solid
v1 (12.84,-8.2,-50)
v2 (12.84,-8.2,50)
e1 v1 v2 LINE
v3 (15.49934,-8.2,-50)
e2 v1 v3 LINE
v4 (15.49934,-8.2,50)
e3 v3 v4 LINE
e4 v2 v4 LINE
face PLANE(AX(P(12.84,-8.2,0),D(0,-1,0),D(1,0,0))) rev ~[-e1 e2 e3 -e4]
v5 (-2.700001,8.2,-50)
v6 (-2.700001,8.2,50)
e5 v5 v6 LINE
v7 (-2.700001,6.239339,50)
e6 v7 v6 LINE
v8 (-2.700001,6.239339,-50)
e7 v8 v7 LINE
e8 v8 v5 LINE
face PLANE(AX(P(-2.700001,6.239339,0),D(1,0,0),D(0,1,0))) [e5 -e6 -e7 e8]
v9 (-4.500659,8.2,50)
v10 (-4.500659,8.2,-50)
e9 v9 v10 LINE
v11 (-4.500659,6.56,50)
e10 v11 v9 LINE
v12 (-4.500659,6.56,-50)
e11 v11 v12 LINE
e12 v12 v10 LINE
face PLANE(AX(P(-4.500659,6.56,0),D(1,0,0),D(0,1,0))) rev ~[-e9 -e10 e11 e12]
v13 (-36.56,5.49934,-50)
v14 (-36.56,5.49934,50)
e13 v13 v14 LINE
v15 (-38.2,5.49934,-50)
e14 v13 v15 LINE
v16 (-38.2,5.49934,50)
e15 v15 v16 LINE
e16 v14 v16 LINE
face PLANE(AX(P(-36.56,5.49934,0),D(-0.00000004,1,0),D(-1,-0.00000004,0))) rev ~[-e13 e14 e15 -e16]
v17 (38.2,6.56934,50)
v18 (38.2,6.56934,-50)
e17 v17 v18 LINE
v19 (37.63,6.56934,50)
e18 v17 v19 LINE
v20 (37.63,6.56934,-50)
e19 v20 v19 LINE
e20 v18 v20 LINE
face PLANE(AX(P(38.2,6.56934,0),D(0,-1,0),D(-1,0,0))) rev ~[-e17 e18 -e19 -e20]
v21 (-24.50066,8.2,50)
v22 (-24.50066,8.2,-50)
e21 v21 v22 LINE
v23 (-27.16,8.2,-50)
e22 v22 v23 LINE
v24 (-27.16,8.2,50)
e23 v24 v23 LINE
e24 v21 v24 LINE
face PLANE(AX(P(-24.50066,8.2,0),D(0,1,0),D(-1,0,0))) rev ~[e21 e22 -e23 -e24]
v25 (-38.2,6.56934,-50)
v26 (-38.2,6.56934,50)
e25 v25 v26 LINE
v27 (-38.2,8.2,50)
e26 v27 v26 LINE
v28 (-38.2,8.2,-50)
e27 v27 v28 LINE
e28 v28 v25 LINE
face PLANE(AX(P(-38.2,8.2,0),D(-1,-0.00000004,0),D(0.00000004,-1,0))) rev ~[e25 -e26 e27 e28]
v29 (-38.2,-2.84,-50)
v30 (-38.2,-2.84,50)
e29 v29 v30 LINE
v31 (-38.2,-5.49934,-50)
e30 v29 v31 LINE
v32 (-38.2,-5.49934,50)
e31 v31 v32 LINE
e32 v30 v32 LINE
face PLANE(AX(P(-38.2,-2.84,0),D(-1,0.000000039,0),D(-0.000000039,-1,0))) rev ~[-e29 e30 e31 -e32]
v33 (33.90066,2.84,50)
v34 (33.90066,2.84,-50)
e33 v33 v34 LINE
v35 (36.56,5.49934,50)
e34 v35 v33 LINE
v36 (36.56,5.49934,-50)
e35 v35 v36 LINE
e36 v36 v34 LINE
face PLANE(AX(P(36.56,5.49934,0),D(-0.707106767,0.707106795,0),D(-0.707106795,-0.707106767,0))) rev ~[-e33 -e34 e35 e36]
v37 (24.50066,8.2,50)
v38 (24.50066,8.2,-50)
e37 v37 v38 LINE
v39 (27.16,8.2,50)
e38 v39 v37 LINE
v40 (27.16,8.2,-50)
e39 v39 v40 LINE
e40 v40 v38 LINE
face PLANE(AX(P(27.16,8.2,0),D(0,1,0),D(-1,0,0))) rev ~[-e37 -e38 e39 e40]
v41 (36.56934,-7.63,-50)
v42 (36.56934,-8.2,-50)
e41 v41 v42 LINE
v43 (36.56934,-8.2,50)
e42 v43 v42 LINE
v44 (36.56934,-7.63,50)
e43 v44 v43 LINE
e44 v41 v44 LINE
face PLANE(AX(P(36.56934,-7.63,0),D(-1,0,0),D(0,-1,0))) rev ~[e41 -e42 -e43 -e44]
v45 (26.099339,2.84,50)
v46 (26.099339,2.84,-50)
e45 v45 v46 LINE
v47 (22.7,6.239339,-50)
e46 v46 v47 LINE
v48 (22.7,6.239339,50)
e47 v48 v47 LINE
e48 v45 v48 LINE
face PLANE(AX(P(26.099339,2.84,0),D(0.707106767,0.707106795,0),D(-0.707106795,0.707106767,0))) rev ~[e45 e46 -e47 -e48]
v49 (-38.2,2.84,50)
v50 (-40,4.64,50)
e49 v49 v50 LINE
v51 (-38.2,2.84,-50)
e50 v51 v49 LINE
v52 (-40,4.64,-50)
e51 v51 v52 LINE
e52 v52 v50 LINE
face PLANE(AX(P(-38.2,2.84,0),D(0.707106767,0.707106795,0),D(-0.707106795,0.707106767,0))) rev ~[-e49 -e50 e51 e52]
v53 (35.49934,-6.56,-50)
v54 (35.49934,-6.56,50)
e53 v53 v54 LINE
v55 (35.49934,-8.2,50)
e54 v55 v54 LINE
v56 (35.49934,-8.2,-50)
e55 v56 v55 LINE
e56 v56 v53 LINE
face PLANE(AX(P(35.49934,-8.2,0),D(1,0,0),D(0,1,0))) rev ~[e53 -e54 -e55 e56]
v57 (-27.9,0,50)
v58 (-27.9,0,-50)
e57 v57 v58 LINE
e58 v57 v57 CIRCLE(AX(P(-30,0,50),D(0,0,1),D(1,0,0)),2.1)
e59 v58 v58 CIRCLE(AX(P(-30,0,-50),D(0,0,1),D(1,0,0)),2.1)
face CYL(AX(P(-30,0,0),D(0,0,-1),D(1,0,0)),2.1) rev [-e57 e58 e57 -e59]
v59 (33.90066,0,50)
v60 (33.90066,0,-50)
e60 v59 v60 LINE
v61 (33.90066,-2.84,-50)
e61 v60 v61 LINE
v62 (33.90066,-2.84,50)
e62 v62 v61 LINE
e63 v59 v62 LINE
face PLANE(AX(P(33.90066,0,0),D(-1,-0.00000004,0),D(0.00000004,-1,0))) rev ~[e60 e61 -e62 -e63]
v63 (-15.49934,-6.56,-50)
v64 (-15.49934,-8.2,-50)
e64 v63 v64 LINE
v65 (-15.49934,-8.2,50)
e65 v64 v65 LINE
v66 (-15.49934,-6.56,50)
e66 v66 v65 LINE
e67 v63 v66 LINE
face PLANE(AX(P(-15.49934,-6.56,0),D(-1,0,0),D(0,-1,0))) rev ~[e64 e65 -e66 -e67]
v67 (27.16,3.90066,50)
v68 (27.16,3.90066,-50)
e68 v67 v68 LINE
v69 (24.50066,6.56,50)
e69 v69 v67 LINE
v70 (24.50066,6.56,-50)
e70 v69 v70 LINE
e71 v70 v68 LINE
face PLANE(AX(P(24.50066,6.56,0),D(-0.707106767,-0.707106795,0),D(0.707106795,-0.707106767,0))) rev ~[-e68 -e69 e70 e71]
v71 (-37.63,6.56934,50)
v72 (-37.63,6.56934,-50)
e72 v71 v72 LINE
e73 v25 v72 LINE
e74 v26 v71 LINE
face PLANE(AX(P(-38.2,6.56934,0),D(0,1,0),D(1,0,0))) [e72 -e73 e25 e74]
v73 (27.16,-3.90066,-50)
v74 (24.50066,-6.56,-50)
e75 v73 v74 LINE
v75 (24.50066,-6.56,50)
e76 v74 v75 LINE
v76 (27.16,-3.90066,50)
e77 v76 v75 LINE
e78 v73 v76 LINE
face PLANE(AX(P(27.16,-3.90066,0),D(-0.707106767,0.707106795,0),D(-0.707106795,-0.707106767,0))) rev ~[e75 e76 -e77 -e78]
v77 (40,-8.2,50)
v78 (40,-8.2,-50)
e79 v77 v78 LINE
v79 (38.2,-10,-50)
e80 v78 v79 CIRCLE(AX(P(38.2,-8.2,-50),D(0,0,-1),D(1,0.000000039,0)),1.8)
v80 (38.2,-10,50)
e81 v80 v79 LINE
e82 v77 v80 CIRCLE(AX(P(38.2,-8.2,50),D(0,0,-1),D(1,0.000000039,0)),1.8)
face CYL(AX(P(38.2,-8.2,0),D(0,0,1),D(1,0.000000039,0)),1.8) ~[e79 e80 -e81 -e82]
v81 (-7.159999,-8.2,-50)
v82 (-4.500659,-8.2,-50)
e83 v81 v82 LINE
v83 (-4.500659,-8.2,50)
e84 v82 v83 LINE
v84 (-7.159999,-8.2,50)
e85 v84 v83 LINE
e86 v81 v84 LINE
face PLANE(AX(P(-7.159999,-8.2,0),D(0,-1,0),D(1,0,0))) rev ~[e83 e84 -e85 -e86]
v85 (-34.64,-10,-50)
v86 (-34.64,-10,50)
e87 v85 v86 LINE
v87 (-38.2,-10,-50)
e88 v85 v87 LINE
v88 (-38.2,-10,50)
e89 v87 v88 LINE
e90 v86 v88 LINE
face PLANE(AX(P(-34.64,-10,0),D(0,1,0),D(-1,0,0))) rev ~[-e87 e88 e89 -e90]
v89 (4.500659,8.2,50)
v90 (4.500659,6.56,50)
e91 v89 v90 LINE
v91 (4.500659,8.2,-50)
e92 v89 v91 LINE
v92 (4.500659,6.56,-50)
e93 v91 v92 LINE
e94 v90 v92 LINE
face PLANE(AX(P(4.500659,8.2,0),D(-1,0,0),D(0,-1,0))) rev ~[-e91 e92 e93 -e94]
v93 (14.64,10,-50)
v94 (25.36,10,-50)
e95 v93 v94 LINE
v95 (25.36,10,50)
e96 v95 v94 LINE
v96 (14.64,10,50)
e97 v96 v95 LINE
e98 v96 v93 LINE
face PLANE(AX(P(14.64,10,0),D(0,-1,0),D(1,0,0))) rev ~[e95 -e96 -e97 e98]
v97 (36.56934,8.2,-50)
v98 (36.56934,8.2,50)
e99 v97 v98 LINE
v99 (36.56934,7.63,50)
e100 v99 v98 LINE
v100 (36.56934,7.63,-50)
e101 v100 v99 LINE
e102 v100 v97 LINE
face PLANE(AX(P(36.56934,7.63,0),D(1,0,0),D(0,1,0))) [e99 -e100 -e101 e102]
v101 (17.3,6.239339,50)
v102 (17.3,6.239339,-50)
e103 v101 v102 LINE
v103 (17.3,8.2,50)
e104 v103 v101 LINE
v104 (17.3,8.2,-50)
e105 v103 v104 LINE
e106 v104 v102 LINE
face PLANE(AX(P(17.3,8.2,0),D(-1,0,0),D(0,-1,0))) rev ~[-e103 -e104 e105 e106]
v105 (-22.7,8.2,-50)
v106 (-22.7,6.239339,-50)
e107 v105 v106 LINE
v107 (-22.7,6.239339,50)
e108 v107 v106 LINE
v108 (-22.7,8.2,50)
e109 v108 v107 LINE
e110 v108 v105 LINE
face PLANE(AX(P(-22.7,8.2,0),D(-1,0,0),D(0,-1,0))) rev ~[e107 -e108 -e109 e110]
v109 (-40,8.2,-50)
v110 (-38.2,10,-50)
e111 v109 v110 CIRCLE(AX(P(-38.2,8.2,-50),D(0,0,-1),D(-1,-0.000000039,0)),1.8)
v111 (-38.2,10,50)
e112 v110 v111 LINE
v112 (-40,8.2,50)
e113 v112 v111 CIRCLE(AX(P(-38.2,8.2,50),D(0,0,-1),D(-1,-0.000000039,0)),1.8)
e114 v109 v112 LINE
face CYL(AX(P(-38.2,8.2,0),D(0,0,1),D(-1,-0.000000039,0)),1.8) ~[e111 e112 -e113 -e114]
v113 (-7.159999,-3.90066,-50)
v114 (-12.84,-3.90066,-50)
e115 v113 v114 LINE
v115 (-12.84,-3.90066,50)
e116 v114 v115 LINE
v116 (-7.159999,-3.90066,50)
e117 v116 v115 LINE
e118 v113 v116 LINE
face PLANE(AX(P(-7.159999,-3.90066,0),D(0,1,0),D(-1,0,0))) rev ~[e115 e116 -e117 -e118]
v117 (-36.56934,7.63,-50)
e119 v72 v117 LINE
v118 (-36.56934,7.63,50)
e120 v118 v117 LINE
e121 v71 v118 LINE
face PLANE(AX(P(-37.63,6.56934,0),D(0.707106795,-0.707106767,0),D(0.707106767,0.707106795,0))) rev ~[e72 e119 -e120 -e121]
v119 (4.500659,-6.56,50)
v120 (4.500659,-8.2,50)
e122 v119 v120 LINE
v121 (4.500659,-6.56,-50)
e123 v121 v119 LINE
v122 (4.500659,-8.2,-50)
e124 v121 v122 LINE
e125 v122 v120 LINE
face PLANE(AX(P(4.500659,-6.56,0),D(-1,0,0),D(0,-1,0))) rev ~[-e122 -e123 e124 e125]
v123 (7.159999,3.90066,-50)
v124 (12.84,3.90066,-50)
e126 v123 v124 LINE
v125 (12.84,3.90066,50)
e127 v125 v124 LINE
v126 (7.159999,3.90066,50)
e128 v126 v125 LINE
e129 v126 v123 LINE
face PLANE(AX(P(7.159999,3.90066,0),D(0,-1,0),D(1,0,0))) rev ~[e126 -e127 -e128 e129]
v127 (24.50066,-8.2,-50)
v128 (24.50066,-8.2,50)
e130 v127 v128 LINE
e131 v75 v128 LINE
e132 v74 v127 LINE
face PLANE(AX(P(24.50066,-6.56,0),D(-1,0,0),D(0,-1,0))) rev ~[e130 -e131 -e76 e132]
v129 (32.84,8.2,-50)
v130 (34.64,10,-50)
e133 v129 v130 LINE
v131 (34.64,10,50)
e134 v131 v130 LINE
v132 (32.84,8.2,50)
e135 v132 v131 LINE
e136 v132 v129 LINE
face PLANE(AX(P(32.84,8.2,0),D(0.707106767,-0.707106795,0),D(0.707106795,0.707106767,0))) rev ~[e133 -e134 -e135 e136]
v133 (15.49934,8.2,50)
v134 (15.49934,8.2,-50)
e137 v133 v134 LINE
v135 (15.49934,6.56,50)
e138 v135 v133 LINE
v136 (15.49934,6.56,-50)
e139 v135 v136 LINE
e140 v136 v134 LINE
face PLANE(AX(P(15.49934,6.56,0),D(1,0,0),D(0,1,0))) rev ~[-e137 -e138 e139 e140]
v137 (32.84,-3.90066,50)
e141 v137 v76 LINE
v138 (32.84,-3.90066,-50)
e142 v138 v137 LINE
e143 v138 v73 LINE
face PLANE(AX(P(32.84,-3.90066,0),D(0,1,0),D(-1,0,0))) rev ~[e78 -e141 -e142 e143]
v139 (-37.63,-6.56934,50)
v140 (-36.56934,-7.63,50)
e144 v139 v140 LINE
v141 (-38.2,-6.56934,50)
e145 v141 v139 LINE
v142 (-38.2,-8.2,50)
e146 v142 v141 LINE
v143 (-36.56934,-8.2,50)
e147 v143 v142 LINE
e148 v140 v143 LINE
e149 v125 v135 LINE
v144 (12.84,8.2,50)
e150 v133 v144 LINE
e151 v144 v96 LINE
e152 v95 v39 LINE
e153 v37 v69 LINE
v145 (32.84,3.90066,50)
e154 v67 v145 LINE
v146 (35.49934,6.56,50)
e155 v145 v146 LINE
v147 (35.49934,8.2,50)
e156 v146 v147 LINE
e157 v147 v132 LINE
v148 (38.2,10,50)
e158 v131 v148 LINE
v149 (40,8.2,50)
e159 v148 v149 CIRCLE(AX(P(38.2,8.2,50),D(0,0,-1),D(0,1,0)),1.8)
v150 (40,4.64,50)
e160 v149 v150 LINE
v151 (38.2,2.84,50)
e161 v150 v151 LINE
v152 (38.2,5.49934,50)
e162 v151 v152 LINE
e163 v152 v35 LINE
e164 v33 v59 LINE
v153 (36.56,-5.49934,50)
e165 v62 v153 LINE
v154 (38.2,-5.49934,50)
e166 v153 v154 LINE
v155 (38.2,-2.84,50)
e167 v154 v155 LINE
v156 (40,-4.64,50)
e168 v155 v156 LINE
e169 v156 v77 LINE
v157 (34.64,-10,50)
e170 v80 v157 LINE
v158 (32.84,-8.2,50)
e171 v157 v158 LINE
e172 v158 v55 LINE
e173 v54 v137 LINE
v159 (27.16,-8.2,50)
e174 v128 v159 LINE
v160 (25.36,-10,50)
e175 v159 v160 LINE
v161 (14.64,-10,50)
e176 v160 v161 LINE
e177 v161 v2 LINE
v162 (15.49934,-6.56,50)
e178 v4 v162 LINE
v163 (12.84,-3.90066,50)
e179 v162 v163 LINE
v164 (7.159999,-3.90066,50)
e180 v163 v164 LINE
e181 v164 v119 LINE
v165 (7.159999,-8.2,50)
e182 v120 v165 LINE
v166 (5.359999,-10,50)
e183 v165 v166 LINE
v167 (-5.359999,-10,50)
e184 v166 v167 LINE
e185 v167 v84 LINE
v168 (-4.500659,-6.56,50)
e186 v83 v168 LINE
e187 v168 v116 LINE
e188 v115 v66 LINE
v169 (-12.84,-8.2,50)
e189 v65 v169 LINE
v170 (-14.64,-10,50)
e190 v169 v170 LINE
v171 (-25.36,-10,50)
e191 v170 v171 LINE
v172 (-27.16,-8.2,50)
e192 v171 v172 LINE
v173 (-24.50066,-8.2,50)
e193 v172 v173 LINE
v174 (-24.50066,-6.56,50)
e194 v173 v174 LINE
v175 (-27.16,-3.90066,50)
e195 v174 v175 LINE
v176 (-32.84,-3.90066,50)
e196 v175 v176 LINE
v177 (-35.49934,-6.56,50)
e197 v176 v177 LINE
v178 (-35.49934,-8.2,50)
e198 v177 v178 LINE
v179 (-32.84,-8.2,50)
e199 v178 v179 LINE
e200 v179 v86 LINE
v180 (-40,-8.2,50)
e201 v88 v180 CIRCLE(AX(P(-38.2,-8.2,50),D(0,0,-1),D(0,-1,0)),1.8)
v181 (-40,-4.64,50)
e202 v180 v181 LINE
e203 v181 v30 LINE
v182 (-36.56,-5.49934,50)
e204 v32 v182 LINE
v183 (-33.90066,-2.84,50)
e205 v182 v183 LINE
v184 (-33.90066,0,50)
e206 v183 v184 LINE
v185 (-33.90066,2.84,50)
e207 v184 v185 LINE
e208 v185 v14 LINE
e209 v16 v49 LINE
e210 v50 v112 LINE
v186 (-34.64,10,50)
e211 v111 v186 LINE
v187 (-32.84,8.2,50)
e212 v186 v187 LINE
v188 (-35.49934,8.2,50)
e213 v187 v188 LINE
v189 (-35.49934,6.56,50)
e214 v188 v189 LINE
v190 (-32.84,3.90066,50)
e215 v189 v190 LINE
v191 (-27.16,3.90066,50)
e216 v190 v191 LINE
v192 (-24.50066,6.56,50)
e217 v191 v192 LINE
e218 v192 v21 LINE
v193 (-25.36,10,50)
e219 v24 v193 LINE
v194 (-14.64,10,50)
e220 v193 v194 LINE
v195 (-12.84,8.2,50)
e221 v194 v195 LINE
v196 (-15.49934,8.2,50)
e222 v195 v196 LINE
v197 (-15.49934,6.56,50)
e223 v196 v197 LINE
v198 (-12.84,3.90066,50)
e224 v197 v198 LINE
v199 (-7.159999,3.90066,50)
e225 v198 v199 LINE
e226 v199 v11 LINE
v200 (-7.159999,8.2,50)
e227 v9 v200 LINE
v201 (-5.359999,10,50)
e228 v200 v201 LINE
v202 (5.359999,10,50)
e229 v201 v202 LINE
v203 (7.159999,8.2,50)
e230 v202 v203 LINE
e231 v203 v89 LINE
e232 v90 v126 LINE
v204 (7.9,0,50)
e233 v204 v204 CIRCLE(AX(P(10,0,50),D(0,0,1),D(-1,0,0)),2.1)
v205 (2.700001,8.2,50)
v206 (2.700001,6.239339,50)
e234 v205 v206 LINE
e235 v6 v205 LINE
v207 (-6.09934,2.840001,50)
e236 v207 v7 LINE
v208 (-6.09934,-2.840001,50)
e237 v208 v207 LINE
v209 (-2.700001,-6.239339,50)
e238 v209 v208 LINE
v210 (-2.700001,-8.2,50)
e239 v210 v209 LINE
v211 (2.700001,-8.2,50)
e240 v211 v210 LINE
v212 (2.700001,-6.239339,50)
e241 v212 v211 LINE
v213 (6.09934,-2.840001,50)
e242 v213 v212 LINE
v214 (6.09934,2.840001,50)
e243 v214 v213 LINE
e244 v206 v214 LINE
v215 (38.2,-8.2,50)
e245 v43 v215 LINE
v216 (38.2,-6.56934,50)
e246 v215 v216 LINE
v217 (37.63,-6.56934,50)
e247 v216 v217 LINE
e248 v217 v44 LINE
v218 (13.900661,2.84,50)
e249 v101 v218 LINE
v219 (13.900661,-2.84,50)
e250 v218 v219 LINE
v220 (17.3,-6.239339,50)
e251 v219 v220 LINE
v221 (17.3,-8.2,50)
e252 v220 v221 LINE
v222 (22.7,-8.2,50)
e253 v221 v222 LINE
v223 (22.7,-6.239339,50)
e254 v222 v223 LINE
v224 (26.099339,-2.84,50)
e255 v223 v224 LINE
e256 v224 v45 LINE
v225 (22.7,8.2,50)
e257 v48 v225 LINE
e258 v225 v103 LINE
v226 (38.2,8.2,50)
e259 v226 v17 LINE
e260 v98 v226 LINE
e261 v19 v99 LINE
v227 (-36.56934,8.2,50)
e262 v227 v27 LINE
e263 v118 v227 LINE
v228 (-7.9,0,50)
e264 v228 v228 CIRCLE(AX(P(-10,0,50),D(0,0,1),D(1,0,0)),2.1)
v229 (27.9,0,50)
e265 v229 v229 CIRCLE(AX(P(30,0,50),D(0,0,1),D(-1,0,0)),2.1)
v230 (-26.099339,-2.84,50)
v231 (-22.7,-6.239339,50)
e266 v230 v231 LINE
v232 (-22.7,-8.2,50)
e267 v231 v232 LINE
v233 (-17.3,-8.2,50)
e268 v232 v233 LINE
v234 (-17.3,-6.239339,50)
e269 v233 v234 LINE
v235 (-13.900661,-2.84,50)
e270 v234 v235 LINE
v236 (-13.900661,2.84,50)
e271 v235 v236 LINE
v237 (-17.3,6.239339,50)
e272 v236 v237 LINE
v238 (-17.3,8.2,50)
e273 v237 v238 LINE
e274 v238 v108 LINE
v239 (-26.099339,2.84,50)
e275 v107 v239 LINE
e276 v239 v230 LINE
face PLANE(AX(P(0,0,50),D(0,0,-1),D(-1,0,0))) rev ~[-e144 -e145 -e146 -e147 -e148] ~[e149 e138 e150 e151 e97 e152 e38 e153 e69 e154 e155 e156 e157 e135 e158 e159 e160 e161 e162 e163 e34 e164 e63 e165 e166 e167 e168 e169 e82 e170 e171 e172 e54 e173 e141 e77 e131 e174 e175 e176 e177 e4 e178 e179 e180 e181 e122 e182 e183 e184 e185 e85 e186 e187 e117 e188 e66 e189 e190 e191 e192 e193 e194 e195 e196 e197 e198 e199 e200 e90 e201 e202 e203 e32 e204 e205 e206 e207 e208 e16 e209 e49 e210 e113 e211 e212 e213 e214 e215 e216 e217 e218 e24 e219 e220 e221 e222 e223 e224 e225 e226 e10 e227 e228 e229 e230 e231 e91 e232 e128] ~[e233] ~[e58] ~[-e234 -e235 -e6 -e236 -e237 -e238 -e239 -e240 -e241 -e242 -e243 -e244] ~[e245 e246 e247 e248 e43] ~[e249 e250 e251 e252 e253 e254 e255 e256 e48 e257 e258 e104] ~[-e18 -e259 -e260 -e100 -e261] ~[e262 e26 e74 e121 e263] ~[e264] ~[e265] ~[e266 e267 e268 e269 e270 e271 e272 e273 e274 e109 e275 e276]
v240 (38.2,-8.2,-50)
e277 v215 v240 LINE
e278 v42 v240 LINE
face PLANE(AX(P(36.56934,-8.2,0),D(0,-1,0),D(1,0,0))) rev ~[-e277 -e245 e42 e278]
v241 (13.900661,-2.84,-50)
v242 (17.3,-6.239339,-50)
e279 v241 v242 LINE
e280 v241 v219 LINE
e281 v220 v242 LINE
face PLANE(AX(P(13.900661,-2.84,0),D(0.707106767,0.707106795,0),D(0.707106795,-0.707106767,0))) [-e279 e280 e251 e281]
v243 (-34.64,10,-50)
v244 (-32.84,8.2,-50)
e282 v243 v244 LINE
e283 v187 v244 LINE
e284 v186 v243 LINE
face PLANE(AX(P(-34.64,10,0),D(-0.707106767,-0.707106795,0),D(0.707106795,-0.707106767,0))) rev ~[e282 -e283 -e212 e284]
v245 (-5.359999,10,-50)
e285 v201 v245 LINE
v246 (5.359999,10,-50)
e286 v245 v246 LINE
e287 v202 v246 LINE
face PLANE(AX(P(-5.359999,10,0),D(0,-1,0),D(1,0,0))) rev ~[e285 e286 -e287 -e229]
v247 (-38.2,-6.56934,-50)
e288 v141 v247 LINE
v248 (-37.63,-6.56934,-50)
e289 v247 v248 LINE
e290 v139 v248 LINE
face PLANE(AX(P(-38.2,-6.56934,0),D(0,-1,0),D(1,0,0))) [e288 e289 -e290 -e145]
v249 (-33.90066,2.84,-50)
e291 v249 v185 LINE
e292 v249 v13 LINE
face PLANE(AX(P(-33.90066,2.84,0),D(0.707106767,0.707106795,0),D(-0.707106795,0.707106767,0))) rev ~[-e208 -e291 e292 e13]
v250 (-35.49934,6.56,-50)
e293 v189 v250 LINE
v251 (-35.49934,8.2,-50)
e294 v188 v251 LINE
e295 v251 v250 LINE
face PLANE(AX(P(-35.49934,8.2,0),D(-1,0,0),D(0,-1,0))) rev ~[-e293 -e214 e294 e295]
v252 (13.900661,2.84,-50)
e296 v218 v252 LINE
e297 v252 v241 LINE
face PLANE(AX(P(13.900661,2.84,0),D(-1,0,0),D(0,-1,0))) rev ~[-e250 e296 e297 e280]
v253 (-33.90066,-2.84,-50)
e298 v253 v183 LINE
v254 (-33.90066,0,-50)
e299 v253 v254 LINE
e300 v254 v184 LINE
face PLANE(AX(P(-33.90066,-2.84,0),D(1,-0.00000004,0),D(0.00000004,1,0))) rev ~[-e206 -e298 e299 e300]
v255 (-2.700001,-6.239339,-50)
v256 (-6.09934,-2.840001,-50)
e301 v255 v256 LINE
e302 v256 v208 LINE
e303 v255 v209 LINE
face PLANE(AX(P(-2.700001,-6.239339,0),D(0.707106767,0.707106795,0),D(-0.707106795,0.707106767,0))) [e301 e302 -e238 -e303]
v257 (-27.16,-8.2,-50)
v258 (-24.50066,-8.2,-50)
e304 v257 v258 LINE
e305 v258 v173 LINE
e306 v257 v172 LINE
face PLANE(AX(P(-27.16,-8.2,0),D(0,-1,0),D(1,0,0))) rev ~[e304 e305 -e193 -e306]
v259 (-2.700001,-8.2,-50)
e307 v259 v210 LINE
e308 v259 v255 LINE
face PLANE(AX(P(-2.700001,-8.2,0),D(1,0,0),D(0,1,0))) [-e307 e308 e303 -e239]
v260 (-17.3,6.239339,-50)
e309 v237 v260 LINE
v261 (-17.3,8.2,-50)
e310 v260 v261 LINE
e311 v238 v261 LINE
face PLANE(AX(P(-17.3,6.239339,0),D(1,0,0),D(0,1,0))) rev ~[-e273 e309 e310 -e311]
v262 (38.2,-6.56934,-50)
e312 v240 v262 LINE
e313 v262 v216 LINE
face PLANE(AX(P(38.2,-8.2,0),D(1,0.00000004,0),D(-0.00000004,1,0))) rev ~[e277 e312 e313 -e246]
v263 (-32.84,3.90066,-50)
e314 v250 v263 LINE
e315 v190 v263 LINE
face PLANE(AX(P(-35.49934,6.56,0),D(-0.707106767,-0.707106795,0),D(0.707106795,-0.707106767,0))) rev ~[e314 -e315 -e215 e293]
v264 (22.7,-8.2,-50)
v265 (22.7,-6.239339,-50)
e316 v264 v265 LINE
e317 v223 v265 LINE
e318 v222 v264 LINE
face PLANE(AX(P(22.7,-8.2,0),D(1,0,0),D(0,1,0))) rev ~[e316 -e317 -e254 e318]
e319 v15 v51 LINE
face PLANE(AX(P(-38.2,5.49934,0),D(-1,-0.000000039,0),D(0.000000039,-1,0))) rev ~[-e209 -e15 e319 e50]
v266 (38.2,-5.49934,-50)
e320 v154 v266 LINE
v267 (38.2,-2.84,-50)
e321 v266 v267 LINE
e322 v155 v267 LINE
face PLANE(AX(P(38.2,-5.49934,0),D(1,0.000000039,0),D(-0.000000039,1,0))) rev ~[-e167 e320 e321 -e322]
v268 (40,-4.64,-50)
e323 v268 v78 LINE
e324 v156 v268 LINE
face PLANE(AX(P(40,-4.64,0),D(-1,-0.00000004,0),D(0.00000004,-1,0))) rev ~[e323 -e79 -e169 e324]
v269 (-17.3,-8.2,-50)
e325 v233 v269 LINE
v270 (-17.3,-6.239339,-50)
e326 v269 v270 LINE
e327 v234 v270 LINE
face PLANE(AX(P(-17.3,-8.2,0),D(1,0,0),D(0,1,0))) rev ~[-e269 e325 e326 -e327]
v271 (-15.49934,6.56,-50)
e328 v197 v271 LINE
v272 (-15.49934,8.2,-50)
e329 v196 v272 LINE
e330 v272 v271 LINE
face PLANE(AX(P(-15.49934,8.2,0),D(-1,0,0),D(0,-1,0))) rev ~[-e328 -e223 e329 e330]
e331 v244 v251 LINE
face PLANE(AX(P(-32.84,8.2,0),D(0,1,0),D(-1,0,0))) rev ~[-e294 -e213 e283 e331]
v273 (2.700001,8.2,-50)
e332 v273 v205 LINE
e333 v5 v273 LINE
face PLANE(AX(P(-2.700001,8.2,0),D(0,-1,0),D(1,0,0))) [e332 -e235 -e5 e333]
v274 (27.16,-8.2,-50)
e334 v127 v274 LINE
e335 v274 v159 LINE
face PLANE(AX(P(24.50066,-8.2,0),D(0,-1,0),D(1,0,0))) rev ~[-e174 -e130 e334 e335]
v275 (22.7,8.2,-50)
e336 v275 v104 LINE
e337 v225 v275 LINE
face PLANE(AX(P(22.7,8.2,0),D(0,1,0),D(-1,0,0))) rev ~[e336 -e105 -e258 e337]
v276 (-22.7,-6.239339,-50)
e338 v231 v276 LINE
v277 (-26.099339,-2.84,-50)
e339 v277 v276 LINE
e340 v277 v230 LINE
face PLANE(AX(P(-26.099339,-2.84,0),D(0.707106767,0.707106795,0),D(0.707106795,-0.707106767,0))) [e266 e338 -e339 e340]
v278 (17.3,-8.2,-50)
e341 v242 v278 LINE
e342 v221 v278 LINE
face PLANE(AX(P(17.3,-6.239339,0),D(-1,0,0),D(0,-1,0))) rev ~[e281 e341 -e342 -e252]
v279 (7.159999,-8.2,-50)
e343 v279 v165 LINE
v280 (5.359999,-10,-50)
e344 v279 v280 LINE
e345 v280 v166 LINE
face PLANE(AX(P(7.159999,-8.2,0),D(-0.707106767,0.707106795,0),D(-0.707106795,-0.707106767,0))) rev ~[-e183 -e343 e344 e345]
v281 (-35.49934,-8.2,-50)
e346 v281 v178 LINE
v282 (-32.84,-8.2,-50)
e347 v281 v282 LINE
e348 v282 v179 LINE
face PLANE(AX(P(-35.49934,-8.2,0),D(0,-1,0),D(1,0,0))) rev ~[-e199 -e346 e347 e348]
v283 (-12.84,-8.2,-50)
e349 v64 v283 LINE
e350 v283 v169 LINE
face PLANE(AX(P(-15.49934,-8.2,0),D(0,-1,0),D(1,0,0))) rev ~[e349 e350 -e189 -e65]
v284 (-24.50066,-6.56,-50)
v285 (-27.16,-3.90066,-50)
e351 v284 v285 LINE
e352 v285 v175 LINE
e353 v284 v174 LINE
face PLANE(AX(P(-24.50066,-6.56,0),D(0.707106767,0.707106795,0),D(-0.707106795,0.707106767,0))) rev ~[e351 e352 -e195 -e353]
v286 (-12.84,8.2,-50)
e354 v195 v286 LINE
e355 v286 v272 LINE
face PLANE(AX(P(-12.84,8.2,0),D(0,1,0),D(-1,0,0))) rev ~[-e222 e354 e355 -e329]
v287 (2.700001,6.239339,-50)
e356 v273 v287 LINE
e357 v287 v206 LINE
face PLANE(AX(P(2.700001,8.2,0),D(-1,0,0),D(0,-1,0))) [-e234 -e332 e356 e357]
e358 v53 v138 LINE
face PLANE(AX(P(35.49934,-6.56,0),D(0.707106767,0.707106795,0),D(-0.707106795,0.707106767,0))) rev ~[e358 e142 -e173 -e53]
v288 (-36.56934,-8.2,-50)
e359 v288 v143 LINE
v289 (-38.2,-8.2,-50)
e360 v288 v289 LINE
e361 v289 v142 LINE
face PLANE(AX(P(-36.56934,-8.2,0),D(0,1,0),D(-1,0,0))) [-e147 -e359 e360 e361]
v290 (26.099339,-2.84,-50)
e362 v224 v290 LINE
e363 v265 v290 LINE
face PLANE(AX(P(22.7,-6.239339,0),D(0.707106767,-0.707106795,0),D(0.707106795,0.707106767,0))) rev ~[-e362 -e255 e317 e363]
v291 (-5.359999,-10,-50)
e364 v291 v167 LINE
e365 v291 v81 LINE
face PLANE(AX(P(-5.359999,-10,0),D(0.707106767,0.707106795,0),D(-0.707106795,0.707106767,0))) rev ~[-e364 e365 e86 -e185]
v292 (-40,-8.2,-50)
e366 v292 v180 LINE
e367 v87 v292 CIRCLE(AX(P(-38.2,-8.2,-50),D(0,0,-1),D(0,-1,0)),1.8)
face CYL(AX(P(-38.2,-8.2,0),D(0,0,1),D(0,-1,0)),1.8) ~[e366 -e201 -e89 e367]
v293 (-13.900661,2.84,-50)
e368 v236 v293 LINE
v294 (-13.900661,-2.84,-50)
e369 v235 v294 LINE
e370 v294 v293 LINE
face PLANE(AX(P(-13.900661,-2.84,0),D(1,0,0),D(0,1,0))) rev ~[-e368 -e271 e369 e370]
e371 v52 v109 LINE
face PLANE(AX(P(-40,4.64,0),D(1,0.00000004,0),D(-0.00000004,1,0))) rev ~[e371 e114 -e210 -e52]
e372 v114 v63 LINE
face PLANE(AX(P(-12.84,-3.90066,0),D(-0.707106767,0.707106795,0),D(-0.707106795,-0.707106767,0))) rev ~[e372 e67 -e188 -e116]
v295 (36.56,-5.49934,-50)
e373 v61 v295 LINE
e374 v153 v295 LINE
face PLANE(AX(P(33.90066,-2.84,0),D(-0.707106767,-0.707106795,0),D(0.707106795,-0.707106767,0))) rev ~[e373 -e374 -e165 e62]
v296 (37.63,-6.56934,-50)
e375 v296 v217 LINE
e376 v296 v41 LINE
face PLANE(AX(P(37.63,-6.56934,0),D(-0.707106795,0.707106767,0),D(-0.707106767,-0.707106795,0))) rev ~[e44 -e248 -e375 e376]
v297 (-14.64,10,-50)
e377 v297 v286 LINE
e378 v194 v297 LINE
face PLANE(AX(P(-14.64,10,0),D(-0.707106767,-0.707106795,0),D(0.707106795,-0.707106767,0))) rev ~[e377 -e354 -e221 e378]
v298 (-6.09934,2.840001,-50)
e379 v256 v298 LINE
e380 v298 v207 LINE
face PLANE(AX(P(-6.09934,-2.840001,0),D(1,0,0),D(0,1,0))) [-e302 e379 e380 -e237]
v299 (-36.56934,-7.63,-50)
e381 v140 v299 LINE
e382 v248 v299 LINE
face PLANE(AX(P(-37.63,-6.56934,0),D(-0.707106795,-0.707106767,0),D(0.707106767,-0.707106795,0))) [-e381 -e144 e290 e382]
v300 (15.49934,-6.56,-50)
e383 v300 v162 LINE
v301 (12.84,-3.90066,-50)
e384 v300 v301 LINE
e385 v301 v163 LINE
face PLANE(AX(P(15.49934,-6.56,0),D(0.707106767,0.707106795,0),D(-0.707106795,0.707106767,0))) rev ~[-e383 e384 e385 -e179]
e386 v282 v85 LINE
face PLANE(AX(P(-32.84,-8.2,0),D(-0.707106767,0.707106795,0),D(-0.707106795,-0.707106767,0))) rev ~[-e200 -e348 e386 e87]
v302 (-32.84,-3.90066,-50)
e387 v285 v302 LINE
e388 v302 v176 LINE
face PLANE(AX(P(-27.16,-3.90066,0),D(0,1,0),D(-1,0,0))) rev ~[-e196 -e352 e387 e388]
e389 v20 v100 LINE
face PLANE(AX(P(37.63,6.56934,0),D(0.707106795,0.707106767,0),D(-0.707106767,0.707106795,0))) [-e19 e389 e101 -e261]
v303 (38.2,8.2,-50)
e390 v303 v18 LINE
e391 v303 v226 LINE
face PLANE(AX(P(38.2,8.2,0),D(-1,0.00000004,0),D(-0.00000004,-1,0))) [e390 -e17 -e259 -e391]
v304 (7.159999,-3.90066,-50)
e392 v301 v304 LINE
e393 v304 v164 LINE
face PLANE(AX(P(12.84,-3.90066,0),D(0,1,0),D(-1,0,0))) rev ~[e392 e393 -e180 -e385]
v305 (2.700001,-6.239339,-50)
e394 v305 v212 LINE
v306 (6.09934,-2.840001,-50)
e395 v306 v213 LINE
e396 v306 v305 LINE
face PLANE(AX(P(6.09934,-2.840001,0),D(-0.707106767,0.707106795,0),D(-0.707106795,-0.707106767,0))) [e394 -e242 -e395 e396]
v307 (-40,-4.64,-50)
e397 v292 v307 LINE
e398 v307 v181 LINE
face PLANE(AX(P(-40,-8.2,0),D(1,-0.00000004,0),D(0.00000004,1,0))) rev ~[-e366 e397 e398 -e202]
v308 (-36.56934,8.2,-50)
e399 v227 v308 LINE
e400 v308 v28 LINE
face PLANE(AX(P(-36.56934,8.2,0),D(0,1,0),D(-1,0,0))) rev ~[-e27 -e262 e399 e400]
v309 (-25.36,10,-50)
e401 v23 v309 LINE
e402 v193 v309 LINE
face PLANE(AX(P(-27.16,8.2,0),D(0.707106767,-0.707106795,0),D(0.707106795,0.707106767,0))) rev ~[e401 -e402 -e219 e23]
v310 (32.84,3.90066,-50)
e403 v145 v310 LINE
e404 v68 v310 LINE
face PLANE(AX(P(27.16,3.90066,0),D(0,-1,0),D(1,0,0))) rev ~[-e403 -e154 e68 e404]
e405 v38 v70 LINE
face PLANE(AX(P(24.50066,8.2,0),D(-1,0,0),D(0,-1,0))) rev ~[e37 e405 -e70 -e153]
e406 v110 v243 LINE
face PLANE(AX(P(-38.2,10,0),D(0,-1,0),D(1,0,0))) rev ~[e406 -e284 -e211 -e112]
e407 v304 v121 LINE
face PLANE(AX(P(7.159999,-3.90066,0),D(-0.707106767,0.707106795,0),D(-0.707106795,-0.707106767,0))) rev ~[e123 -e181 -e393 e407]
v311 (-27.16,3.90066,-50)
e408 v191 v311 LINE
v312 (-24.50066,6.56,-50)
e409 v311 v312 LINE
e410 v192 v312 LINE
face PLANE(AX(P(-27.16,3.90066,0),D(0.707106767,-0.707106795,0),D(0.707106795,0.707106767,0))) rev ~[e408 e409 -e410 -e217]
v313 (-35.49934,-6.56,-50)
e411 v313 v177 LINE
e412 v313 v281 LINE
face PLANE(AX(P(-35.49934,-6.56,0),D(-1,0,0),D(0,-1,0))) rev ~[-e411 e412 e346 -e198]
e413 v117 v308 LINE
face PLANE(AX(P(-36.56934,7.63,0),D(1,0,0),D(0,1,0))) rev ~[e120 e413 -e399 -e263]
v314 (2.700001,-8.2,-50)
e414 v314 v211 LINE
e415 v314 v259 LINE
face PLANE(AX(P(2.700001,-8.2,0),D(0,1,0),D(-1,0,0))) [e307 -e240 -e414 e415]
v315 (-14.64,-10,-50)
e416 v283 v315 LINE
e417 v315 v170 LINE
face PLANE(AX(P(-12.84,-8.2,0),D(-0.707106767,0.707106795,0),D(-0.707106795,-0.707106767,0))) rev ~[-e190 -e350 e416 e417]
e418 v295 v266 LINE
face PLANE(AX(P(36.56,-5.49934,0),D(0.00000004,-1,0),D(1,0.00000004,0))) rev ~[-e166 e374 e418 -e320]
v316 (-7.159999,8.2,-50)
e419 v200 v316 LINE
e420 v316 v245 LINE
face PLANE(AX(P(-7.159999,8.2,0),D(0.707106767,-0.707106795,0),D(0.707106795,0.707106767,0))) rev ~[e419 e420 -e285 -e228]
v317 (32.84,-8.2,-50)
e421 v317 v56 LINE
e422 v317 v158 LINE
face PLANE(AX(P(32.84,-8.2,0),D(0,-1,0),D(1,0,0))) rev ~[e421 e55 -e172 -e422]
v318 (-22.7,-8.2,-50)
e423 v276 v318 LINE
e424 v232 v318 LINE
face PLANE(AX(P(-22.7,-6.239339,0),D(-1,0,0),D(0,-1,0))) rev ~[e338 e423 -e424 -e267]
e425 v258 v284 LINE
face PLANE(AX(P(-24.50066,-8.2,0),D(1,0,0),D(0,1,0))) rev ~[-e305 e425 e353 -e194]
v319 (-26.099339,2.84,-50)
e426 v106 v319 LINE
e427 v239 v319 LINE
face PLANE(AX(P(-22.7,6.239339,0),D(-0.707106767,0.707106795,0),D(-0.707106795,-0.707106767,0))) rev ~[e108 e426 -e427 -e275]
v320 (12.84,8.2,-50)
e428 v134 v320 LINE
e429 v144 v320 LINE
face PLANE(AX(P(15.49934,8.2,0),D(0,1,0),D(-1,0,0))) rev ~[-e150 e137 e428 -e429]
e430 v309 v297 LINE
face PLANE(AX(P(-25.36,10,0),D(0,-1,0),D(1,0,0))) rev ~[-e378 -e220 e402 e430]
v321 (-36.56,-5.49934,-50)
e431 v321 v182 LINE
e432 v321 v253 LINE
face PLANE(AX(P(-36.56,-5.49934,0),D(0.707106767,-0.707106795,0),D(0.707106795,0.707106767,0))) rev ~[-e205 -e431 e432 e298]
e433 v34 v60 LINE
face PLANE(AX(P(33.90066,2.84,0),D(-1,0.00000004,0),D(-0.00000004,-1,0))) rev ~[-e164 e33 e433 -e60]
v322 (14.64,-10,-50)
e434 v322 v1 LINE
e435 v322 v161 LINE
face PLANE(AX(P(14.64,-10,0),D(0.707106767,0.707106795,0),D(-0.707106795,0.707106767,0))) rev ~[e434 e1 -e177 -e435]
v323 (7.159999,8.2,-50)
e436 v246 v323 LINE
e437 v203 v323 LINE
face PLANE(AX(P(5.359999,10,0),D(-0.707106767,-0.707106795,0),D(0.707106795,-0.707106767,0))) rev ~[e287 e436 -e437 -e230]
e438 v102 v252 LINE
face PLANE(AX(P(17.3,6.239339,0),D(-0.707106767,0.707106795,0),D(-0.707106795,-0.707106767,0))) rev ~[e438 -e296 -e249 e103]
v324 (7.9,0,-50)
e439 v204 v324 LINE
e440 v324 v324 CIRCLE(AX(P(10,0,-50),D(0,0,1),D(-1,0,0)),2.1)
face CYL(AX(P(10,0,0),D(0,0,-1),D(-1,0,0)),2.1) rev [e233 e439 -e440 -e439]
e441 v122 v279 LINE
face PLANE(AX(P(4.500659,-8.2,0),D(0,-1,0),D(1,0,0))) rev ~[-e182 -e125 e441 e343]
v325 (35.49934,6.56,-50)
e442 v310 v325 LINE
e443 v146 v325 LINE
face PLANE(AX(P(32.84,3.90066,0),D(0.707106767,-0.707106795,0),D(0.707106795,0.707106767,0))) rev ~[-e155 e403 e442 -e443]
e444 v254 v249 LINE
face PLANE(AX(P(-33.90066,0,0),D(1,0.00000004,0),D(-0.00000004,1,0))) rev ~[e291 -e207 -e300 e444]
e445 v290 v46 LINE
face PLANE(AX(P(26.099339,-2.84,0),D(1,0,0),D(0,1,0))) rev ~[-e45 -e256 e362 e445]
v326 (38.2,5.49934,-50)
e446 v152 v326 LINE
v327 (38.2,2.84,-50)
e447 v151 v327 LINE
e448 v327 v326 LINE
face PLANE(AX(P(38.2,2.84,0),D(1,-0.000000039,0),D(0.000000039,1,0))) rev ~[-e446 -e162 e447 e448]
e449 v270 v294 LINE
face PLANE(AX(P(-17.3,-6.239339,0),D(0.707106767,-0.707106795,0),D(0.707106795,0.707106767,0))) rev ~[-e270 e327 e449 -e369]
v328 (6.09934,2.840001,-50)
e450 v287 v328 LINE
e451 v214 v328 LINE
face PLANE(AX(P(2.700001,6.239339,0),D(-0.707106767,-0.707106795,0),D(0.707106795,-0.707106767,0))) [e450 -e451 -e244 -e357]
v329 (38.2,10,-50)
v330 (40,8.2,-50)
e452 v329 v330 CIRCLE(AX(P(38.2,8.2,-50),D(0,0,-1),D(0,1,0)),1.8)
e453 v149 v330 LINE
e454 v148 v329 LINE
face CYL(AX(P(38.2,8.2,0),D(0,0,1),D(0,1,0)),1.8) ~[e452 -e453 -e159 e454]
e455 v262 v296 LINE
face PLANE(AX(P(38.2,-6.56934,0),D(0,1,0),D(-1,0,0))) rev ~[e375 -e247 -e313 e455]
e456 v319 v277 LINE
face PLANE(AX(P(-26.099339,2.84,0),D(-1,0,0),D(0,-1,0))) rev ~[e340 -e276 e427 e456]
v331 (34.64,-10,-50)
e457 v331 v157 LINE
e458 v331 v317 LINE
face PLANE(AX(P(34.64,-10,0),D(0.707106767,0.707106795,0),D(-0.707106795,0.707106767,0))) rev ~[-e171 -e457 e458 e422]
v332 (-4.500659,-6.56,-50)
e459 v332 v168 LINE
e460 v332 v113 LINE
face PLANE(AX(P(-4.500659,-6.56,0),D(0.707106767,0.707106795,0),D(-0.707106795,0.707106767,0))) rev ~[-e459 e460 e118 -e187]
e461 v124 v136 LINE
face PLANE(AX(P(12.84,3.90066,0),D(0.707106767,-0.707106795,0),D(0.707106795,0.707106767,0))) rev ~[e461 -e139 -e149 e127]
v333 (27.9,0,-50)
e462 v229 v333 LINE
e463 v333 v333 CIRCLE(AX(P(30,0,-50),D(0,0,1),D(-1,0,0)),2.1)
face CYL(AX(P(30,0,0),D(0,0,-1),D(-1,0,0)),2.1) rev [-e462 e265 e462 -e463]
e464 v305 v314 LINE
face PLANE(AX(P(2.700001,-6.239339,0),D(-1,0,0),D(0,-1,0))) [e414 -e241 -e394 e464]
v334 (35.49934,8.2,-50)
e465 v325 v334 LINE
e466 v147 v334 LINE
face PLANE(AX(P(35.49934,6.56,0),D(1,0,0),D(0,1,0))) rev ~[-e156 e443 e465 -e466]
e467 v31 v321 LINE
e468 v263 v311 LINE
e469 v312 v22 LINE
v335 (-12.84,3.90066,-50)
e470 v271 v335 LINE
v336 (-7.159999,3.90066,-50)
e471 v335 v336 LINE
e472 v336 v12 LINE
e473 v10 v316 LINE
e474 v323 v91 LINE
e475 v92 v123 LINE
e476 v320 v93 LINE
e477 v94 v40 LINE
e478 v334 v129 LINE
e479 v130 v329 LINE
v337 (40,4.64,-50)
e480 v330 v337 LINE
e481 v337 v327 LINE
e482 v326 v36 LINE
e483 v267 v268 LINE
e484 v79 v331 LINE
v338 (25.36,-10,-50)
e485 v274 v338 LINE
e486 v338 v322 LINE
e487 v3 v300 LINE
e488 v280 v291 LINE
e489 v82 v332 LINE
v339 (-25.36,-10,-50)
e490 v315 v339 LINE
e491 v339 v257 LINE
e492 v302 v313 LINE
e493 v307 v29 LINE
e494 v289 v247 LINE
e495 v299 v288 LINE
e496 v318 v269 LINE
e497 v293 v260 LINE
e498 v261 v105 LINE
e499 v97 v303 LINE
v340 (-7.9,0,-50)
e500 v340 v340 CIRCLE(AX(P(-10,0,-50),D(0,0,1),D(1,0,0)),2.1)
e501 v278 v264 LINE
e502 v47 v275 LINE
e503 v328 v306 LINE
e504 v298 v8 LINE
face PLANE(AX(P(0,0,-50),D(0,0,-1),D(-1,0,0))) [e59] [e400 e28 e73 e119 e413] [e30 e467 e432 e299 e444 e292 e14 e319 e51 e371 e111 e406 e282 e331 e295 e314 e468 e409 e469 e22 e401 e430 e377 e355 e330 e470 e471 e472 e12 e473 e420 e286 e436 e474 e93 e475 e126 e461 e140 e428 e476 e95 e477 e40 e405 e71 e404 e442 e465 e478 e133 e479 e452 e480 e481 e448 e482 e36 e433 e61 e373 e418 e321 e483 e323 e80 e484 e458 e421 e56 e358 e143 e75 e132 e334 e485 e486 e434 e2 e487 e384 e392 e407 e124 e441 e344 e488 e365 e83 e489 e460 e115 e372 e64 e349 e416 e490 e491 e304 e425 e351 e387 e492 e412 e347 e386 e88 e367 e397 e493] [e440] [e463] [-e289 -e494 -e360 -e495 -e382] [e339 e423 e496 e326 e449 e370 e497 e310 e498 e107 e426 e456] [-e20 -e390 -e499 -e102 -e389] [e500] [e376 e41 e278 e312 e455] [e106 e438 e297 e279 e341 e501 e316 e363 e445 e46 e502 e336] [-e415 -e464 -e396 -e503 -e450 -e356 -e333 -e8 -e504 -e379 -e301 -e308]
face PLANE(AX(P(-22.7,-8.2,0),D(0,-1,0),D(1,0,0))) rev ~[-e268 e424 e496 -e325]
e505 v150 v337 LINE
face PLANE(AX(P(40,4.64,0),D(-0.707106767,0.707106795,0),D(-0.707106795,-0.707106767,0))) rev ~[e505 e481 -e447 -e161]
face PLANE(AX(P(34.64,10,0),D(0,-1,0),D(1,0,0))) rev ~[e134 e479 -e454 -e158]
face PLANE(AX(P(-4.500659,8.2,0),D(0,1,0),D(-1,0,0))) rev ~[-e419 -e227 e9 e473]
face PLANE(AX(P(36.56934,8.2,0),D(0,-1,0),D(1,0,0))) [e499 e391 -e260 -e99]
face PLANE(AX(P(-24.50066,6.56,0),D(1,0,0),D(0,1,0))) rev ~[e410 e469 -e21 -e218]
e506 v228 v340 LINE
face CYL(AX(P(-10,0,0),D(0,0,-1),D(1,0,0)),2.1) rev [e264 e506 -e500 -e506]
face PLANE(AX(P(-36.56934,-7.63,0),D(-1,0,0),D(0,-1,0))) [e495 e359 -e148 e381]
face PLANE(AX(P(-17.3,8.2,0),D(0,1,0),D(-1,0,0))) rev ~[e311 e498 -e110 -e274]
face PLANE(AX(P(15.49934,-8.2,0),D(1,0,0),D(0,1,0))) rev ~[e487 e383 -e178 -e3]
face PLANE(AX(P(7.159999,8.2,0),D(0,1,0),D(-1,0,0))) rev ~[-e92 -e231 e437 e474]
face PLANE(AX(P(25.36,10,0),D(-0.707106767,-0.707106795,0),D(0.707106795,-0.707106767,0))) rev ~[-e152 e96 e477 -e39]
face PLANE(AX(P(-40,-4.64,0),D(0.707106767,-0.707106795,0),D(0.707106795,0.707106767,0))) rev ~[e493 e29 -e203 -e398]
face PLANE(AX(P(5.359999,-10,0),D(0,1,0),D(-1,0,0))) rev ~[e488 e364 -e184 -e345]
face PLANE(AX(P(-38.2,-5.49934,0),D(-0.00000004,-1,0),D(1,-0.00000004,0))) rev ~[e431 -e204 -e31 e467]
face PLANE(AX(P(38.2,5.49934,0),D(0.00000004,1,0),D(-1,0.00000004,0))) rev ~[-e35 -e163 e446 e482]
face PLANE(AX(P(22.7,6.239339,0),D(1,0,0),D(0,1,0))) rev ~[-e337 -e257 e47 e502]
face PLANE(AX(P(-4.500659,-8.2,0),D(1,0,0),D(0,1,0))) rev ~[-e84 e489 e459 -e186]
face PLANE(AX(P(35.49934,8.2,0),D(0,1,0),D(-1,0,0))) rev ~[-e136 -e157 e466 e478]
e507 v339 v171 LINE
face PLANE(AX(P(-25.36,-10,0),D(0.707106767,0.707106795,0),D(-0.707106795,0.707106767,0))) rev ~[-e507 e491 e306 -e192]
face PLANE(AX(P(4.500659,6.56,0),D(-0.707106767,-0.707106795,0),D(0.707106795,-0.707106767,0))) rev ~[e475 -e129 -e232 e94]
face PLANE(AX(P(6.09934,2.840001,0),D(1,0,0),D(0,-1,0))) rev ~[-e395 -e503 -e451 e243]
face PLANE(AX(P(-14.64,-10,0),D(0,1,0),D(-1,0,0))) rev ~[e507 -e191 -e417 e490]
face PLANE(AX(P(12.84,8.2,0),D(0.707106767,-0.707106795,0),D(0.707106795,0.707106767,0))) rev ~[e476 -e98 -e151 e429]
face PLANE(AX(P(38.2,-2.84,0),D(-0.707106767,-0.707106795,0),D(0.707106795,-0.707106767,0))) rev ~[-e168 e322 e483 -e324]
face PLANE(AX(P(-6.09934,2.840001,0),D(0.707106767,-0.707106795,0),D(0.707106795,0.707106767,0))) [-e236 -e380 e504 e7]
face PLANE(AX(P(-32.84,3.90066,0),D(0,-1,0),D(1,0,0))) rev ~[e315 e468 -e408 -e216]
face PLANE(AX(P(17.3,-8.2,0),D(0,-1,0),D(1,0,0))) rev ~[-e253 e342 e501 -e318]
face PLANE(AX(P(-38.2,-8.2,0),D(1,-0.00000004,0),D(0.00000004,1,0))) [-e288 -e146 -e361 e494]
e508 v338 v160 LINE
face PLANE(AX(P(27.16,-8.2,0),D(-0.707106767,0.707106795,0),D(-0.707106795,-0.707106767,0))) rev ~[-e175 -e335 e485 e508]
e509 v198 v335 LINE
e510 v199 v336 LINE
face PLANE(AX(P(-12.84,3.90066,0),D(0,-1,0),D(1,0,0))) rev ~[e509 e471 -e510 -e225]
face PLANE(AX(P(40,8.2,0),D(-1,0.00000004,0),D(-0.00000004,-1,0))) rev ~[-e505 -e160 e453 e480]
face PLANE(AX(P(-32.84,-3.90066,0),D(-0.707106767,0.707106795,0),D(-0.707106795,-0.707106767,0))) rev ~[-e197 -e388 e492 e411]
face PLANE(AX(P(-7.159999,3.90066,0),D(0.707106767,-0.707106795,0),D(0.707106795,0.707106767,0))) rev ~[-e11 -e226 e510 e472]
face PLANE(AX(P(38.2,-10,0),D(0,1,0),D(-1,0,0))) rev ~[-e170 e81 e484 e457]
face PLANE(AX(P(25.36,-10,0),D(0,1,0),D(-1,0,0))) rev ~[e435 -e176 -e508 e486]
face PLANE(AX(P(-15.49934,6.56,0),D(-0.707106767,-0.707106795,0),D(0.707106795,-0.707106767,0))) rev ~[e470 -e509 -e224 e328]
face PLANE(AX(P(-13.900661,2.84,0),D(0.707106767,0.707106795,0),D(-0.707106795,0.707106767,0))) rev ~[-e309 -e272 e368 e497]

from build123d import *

# Parameters (mm, degrees)
ESQUISSE1_R        = 2.1
BOSS_EXTRU_1_DEPTH = 50


with BuildPart() as part:
    # Esquisse1 → Boss.-Extru.1 (new, symmetric)
    with BuildSketch(Plane.XY):
        with BuildLine():
            Line((-38.199999929, 10), (-34.639999675, 10))
            Line((-34.639999675, 10), (-32.839999603, 8.2))
            Line((-32.839999603, 8.2), (-35.499339671, 8.2))
            Line((-35.499339671, 8.2), (-35.499339671, 6.56))
            Line((-35.499339671, 6.56), (-32.839999603, 3.900660038))
            Line((-32.839999603, 3.900660038), (-27.159999603, 3.900660038))
            Line((-27.159999603, 3.900660038), (-24.500659536, 6.56))
            Line((-24.500659536, 6.56), (-24.500659536, 8.2))
            Line((-24.500659536, 8.2), (-27.159999603, 8.2))
            Line((-27.159999603, 8.2), (-25.359999532, 10))
            Line((-25.359999532, 10), (-14.640000468, 10))
            Line((-14.640000468, 10), (-12.840000397, 8.2))
            Line((-12.840000397, 8.2), (-15.499340464, 8.2))
            Line((-15.499340464, 8.2), (-15.499340464, 6.56))
            Line((-15.499340464, 6.56), (-12.840000397, 3.900660038))
            Line((-12.840000397, 3.900660038), (-7.159998809, 3.900660038))
            Line((-7.159998809, 3.900660038), (-4.500658742, 6.56))
            Line((-4.500658742, 6.56), (-4.500658742, 8.2))
            Line((-4.500658742, 8.2), (-7.159998809, 8.2))
            Line((-7.159998809, 8.2), (-5.359998738, 10))
            Line((-5.359998738, 10), (5.359998738, 10))
            Line((5.359998738, 10), (7.159998809, 8.2))
            Line((7.159998809, 8.2), (4.500658742, 8.2))
            Line((4.500658742, 8.2), (4.500658742, 6.56))
            Line((4.500658742, 6.56), (7.159998809, 3.900660038))
            Line((7.159998809, 3.900660038), (12.840000397, 3.900660038))
            Line((12.840000397, 3.900660038), (15.499340464, 6.56))
            Line((15.499340464, 6.56), (15.499340464, 8.2))
            Line((15.499340464, 8.2), (12.840000397, 8.2))
            Line((12.840000397, 8.2), (14.640000468, 10))
            Line((14.640000468, 10), (25.359999532, 10))
            Line((25.359999532, 10), (27.159999603, 8.2))
            Line((27.159999603, 8.2), (24.500659536, 8.2))
            Line((24.500659536, 8.2), (24.500659536, 6.56))
            Line((24.500659536, 6.56), (27.159999603, 3.900660038))
            Line((27.159999603, 3.900660038), (32.839999603, 3.900660038))
            Line((32.839999603, 3.900660038), (35.499339671, 6.56))
            Line((35.499339671, 6.56), (35.499339671, 8.2))
            Line((35.499339671, 8.2), (32.839999603, 8.2))
            Line((32.839999603, 8.2), (34.639999675, 10))
            Line((34.639999675, 10), (38.199999929, 10))
            ThreePointArc((38.199999929, 10), (39.47279216, 9.472792181), (39.999999929, 8.199999929))
            Line((39.999999929, 8.199999929), (39.999999787, 4.639999675))
            Line((39.999999787, 4.639999675), (38.199999716, 2.839999675))
            Line((38.199999716, 2.839999675), (38.199999821, 5.499339742))
            Line((38.199999821, 5.499339742), (36.559999821, 5.499339807))
            Line((36.559999821, 5.499339807), (33.900659754, 2.839999845))
            Line((33.900659754, 2.839999845), (33.900659641, 0))
            Line((33.900659641, 0), (33.900659754, -2.839999845))
            Line((33.900659754, -2.839999845), (36.559999821, -5.499339807))
            Line((36.559999821, -5.499339807), (38.199999821, -5.499339742))
            Line((38.199999821, -5.499339742), (38.199999716, -2.839999675))
            Line((38.199999716, -2.839999675), (39.999999787, -4.639999675))
            Line((39.999999787, -4.639999675), (39.999999929, -8.199999929))
            ThreePointArc((39.999999929, -8.199999929), (39.47279216, -9.472792181), (38.199999929, -10))
            Line((38.199999929, -10), (34.639999675, -10))
            Line((34.639999675, -10), (32.839999603, -8.2))
            Line((32.839999603, -8.2), (35.499339671, -8.2))
            Line((35.499339671, -8.2), (35.499339671, -6.56))
            Line((35.499339671, -6.56), (32.839999603, -3.900660038))
            Line((32.839999603, -3.900660038), (27.159999603, -3.900660038))
            Line((27.159999603, -3.900660038), (24.500659536, -6.56))
            Line((24.500659536, -6.56), (24.500659536, -8.2))
            Line((24.500659536, -8.2), (27.159999603, -8.2))
            Line((27.159999603, -8.2), (25.359999532, -10))
            Line((25.359999532, -10), (14.640000468, -10))
            Line((14.640000468, -10), (12.840000397, -8.2))
            Line((12.840000397, -8.2), (15.499340464, -8.2))
            Line((15.499340464, -8.2), (15.499340464, -6.56))
            Line((15.499340464, -6.56), (12.840000397, -3.900660038))
            Line((12.840000397, -3.900660038), (7.159998809, -3.900660038))
            Line((7.159998809, -3.900660038), (4.500658742, -6.56))
            Line((4.500658742, -6.56), (4.500658742, -8.2))
            Line((4.500658742, -8.2), (7.159998809, -8.2))
            Line((7.159998809, -8.2), (5.359998738, -10))
            Line((5.359998738, -10), (-5.359998738, -10))
            Line((-5.359998738, -10), (-7.159998809, -8.2))
            Line((-7.159998809, -8.2), (-4.500658742, -8.2))
            Line((-4.500658742, -8.2), (-4.500658742, -6.56))
            Line((-4.500658742, -6.56), (-7.159998809, -3.900660038))
            Line((-7.159998809, -3.900660038), (-12.840000397, -3.900660038))
            Line((-12.840000397, -3.900660038), (-15.499340464, -6.56))
            Line((-15.499340464, -6.56), (-15.499340464, -8.2))
            Line((-15.499340464, -8.2), (-12.840000397, -8.2))
            Line((-12.840000397, -8.2), (-14.640000468, -10))
            Line((-14.640000468, -10), (-25.359999532, -10))
            Line((-25.359999532, -10), (-27.159999603, -8.2))
            Line((-27.159999603, -8.2), (-24.500659536, -8.2))
            Line((-24.500659536, -8.2), (-24.500659536, -6.56))
            Line((-24.500659536, -6.56), (-27.159999603, -3.900660038))
            Line((-27.159999603, -3.900660038), (-32.839999603, -3.900660038))
            Line((-32.839999603, -3.900660038), (-35.499339671, -6.56))
            Line((-35.499339671, -6.56), (-35.499339671, -8.2))
            Line((-35.499339671, -8.2), (-32.839999603, -8.2))
            Line((-32.839999603, -8.2), (-34.639999675, -10))
            Line((-34.639999675, -10), (-38.199999929, -10))
            ThreePointArc((-38.199999929, -10), (-39.47279216, -9.472792181), (-39.999999929, -8.199999929))
            Line((-39.999999929, -8.199999929), (-39.999999787, -4.639999675))
            Line((-39.999999787, -4.639999675), (-38.199999716, -2.839999675))
            Line((-38.199999716, -2.839999675), (-38.199999821, -5.499339742))
            Line((-38.199999821, -5.499339742), (-36.559999821, -5.499339807))
            Line((-36.559999821, -5.499339807), (-33.900659754, -2.839999845))
            Line((-33.900659754, -2.839999845), (-33.900659641, 0))
            Line((-33.900659641, 0), (-33.900659754, 2.839999845))
            Line((-33.900659754, 2.839999845), (-36.559999821, 5.499339807))
            Line((-36.559999821, 5.499339807), (-38.199999821, 5.499339742))
            Line((-38.199999821, 5.499339742), (-38.199999716, 2.839999675))
            Line((-38.199999716, 2.839999675), (-39.999999787, 4.639999675))
            Line((-39.999999787, 4.639999675), (-39.999999929, 8.199999929))
            ThreePointArc((-39.999999929, 8.199999929), (-39.47279216, 9.472792181), (-38.199999929, 10))
        make_face()
        with Locations((-29.999999603, 0)):
            Circle(ESQUISSE1_R, mode=Mode.SUBTRACT)
        with Locations((-9.999999603, 0)):
            Circle(ESQUISSE1_R, mode=Mode.SUBTRACT)
        with Locations(Location((29.999999603, 0, 0), (0, 0, 180))):
            Circle(ESQUISSE1_R, mode=Mode.SUBTRACT)
        with Locations(Location((9.999999603, 0, 0), (0, 0, 180))):
            Circle(ESQUISSE1_R, mode=Mode.SUBTRACT)
        Polygon((-38.199999929, 8.2), (-38.199999864, 6.569339742), (-37.629999799, 6.569339742), (-36.569339648, 7.629999935), (-36.569339648, 8.2), align=None, mode=Mode.SUBTRACT)
        Polygon((-17.3, 6.239339079), (-17.3, 8.2), (-22.7, 8.2), (-22.7, 6.239339079), (-26.099339368, 2.839999845), (-26.099339368, -2.839999845), (-22.7, -6.239339079), (-22.7, -8.2), (-17.3, -8.2), (-17.3, -6.239339079), (-13.900660632, -2.839999845), (-13.900660632, 2.839999845), align=None, mode=Mode.SUBTRACT)
        Polygon((-6.099339678, -2.840000949), (-6.099339678, 2.840000949), (-2.700001413, 6.239339079), (-2.700001413, 8.2), (2.700001413, 8.2), (2.700001413, 6.239339079), (6.099339678, 2.840000949), (6.099339678, -2.840000949), (2.700001413, -6.239339079), (2.700001413, -8.2), (-2.700001413, -8.2), (-2.700001413, -6.239339079), align=None, mode=Mode.SUBTRACT)
        Polygon((-36.569339648, -7.629999935), (-36.569339648, -8.2), (-38.199999929, -8.2), (-38.199999864, -6.569339742), (-37.629999799, -6.569339742), align=None, mode=Mode.SUBTRACT)
        Polygon((36.569339648, 8.2), (38.199999929, 8.2), (38.199999864, 6.569339742), (37.629999799, 6.569339742), (36.569339648, 7.629999935), align=None, mode=Mode.SUBTRACT)
        Polygon((36.569339648, -8.2), (38.199999929, -8.2), (38.199999864, -6.569339742), (37.629999799, -6.569339742), (36.569339648, -7.629999935), align=None, mode=Mode.SUBTRACT)
        Polygon((13.900660632, -2.839999845), (17.3, -6.239339079), (17.3, -8.2), (22.7, -8.2), (22.7, -6.239339079), (26.099339368, -2.839999845), (26.099339368, 2.839999845), (22.7, 6.239339079), (22.7, 8.2), (17.3, 8.2), (17.3, 6.239339079), (13.900660632, 2.839999845), align=None, mode=Mode.SUBTRACT)
    extrude(amount=BOSS_EXTRU_1_DEPTH, both=True)


solid = part.part
